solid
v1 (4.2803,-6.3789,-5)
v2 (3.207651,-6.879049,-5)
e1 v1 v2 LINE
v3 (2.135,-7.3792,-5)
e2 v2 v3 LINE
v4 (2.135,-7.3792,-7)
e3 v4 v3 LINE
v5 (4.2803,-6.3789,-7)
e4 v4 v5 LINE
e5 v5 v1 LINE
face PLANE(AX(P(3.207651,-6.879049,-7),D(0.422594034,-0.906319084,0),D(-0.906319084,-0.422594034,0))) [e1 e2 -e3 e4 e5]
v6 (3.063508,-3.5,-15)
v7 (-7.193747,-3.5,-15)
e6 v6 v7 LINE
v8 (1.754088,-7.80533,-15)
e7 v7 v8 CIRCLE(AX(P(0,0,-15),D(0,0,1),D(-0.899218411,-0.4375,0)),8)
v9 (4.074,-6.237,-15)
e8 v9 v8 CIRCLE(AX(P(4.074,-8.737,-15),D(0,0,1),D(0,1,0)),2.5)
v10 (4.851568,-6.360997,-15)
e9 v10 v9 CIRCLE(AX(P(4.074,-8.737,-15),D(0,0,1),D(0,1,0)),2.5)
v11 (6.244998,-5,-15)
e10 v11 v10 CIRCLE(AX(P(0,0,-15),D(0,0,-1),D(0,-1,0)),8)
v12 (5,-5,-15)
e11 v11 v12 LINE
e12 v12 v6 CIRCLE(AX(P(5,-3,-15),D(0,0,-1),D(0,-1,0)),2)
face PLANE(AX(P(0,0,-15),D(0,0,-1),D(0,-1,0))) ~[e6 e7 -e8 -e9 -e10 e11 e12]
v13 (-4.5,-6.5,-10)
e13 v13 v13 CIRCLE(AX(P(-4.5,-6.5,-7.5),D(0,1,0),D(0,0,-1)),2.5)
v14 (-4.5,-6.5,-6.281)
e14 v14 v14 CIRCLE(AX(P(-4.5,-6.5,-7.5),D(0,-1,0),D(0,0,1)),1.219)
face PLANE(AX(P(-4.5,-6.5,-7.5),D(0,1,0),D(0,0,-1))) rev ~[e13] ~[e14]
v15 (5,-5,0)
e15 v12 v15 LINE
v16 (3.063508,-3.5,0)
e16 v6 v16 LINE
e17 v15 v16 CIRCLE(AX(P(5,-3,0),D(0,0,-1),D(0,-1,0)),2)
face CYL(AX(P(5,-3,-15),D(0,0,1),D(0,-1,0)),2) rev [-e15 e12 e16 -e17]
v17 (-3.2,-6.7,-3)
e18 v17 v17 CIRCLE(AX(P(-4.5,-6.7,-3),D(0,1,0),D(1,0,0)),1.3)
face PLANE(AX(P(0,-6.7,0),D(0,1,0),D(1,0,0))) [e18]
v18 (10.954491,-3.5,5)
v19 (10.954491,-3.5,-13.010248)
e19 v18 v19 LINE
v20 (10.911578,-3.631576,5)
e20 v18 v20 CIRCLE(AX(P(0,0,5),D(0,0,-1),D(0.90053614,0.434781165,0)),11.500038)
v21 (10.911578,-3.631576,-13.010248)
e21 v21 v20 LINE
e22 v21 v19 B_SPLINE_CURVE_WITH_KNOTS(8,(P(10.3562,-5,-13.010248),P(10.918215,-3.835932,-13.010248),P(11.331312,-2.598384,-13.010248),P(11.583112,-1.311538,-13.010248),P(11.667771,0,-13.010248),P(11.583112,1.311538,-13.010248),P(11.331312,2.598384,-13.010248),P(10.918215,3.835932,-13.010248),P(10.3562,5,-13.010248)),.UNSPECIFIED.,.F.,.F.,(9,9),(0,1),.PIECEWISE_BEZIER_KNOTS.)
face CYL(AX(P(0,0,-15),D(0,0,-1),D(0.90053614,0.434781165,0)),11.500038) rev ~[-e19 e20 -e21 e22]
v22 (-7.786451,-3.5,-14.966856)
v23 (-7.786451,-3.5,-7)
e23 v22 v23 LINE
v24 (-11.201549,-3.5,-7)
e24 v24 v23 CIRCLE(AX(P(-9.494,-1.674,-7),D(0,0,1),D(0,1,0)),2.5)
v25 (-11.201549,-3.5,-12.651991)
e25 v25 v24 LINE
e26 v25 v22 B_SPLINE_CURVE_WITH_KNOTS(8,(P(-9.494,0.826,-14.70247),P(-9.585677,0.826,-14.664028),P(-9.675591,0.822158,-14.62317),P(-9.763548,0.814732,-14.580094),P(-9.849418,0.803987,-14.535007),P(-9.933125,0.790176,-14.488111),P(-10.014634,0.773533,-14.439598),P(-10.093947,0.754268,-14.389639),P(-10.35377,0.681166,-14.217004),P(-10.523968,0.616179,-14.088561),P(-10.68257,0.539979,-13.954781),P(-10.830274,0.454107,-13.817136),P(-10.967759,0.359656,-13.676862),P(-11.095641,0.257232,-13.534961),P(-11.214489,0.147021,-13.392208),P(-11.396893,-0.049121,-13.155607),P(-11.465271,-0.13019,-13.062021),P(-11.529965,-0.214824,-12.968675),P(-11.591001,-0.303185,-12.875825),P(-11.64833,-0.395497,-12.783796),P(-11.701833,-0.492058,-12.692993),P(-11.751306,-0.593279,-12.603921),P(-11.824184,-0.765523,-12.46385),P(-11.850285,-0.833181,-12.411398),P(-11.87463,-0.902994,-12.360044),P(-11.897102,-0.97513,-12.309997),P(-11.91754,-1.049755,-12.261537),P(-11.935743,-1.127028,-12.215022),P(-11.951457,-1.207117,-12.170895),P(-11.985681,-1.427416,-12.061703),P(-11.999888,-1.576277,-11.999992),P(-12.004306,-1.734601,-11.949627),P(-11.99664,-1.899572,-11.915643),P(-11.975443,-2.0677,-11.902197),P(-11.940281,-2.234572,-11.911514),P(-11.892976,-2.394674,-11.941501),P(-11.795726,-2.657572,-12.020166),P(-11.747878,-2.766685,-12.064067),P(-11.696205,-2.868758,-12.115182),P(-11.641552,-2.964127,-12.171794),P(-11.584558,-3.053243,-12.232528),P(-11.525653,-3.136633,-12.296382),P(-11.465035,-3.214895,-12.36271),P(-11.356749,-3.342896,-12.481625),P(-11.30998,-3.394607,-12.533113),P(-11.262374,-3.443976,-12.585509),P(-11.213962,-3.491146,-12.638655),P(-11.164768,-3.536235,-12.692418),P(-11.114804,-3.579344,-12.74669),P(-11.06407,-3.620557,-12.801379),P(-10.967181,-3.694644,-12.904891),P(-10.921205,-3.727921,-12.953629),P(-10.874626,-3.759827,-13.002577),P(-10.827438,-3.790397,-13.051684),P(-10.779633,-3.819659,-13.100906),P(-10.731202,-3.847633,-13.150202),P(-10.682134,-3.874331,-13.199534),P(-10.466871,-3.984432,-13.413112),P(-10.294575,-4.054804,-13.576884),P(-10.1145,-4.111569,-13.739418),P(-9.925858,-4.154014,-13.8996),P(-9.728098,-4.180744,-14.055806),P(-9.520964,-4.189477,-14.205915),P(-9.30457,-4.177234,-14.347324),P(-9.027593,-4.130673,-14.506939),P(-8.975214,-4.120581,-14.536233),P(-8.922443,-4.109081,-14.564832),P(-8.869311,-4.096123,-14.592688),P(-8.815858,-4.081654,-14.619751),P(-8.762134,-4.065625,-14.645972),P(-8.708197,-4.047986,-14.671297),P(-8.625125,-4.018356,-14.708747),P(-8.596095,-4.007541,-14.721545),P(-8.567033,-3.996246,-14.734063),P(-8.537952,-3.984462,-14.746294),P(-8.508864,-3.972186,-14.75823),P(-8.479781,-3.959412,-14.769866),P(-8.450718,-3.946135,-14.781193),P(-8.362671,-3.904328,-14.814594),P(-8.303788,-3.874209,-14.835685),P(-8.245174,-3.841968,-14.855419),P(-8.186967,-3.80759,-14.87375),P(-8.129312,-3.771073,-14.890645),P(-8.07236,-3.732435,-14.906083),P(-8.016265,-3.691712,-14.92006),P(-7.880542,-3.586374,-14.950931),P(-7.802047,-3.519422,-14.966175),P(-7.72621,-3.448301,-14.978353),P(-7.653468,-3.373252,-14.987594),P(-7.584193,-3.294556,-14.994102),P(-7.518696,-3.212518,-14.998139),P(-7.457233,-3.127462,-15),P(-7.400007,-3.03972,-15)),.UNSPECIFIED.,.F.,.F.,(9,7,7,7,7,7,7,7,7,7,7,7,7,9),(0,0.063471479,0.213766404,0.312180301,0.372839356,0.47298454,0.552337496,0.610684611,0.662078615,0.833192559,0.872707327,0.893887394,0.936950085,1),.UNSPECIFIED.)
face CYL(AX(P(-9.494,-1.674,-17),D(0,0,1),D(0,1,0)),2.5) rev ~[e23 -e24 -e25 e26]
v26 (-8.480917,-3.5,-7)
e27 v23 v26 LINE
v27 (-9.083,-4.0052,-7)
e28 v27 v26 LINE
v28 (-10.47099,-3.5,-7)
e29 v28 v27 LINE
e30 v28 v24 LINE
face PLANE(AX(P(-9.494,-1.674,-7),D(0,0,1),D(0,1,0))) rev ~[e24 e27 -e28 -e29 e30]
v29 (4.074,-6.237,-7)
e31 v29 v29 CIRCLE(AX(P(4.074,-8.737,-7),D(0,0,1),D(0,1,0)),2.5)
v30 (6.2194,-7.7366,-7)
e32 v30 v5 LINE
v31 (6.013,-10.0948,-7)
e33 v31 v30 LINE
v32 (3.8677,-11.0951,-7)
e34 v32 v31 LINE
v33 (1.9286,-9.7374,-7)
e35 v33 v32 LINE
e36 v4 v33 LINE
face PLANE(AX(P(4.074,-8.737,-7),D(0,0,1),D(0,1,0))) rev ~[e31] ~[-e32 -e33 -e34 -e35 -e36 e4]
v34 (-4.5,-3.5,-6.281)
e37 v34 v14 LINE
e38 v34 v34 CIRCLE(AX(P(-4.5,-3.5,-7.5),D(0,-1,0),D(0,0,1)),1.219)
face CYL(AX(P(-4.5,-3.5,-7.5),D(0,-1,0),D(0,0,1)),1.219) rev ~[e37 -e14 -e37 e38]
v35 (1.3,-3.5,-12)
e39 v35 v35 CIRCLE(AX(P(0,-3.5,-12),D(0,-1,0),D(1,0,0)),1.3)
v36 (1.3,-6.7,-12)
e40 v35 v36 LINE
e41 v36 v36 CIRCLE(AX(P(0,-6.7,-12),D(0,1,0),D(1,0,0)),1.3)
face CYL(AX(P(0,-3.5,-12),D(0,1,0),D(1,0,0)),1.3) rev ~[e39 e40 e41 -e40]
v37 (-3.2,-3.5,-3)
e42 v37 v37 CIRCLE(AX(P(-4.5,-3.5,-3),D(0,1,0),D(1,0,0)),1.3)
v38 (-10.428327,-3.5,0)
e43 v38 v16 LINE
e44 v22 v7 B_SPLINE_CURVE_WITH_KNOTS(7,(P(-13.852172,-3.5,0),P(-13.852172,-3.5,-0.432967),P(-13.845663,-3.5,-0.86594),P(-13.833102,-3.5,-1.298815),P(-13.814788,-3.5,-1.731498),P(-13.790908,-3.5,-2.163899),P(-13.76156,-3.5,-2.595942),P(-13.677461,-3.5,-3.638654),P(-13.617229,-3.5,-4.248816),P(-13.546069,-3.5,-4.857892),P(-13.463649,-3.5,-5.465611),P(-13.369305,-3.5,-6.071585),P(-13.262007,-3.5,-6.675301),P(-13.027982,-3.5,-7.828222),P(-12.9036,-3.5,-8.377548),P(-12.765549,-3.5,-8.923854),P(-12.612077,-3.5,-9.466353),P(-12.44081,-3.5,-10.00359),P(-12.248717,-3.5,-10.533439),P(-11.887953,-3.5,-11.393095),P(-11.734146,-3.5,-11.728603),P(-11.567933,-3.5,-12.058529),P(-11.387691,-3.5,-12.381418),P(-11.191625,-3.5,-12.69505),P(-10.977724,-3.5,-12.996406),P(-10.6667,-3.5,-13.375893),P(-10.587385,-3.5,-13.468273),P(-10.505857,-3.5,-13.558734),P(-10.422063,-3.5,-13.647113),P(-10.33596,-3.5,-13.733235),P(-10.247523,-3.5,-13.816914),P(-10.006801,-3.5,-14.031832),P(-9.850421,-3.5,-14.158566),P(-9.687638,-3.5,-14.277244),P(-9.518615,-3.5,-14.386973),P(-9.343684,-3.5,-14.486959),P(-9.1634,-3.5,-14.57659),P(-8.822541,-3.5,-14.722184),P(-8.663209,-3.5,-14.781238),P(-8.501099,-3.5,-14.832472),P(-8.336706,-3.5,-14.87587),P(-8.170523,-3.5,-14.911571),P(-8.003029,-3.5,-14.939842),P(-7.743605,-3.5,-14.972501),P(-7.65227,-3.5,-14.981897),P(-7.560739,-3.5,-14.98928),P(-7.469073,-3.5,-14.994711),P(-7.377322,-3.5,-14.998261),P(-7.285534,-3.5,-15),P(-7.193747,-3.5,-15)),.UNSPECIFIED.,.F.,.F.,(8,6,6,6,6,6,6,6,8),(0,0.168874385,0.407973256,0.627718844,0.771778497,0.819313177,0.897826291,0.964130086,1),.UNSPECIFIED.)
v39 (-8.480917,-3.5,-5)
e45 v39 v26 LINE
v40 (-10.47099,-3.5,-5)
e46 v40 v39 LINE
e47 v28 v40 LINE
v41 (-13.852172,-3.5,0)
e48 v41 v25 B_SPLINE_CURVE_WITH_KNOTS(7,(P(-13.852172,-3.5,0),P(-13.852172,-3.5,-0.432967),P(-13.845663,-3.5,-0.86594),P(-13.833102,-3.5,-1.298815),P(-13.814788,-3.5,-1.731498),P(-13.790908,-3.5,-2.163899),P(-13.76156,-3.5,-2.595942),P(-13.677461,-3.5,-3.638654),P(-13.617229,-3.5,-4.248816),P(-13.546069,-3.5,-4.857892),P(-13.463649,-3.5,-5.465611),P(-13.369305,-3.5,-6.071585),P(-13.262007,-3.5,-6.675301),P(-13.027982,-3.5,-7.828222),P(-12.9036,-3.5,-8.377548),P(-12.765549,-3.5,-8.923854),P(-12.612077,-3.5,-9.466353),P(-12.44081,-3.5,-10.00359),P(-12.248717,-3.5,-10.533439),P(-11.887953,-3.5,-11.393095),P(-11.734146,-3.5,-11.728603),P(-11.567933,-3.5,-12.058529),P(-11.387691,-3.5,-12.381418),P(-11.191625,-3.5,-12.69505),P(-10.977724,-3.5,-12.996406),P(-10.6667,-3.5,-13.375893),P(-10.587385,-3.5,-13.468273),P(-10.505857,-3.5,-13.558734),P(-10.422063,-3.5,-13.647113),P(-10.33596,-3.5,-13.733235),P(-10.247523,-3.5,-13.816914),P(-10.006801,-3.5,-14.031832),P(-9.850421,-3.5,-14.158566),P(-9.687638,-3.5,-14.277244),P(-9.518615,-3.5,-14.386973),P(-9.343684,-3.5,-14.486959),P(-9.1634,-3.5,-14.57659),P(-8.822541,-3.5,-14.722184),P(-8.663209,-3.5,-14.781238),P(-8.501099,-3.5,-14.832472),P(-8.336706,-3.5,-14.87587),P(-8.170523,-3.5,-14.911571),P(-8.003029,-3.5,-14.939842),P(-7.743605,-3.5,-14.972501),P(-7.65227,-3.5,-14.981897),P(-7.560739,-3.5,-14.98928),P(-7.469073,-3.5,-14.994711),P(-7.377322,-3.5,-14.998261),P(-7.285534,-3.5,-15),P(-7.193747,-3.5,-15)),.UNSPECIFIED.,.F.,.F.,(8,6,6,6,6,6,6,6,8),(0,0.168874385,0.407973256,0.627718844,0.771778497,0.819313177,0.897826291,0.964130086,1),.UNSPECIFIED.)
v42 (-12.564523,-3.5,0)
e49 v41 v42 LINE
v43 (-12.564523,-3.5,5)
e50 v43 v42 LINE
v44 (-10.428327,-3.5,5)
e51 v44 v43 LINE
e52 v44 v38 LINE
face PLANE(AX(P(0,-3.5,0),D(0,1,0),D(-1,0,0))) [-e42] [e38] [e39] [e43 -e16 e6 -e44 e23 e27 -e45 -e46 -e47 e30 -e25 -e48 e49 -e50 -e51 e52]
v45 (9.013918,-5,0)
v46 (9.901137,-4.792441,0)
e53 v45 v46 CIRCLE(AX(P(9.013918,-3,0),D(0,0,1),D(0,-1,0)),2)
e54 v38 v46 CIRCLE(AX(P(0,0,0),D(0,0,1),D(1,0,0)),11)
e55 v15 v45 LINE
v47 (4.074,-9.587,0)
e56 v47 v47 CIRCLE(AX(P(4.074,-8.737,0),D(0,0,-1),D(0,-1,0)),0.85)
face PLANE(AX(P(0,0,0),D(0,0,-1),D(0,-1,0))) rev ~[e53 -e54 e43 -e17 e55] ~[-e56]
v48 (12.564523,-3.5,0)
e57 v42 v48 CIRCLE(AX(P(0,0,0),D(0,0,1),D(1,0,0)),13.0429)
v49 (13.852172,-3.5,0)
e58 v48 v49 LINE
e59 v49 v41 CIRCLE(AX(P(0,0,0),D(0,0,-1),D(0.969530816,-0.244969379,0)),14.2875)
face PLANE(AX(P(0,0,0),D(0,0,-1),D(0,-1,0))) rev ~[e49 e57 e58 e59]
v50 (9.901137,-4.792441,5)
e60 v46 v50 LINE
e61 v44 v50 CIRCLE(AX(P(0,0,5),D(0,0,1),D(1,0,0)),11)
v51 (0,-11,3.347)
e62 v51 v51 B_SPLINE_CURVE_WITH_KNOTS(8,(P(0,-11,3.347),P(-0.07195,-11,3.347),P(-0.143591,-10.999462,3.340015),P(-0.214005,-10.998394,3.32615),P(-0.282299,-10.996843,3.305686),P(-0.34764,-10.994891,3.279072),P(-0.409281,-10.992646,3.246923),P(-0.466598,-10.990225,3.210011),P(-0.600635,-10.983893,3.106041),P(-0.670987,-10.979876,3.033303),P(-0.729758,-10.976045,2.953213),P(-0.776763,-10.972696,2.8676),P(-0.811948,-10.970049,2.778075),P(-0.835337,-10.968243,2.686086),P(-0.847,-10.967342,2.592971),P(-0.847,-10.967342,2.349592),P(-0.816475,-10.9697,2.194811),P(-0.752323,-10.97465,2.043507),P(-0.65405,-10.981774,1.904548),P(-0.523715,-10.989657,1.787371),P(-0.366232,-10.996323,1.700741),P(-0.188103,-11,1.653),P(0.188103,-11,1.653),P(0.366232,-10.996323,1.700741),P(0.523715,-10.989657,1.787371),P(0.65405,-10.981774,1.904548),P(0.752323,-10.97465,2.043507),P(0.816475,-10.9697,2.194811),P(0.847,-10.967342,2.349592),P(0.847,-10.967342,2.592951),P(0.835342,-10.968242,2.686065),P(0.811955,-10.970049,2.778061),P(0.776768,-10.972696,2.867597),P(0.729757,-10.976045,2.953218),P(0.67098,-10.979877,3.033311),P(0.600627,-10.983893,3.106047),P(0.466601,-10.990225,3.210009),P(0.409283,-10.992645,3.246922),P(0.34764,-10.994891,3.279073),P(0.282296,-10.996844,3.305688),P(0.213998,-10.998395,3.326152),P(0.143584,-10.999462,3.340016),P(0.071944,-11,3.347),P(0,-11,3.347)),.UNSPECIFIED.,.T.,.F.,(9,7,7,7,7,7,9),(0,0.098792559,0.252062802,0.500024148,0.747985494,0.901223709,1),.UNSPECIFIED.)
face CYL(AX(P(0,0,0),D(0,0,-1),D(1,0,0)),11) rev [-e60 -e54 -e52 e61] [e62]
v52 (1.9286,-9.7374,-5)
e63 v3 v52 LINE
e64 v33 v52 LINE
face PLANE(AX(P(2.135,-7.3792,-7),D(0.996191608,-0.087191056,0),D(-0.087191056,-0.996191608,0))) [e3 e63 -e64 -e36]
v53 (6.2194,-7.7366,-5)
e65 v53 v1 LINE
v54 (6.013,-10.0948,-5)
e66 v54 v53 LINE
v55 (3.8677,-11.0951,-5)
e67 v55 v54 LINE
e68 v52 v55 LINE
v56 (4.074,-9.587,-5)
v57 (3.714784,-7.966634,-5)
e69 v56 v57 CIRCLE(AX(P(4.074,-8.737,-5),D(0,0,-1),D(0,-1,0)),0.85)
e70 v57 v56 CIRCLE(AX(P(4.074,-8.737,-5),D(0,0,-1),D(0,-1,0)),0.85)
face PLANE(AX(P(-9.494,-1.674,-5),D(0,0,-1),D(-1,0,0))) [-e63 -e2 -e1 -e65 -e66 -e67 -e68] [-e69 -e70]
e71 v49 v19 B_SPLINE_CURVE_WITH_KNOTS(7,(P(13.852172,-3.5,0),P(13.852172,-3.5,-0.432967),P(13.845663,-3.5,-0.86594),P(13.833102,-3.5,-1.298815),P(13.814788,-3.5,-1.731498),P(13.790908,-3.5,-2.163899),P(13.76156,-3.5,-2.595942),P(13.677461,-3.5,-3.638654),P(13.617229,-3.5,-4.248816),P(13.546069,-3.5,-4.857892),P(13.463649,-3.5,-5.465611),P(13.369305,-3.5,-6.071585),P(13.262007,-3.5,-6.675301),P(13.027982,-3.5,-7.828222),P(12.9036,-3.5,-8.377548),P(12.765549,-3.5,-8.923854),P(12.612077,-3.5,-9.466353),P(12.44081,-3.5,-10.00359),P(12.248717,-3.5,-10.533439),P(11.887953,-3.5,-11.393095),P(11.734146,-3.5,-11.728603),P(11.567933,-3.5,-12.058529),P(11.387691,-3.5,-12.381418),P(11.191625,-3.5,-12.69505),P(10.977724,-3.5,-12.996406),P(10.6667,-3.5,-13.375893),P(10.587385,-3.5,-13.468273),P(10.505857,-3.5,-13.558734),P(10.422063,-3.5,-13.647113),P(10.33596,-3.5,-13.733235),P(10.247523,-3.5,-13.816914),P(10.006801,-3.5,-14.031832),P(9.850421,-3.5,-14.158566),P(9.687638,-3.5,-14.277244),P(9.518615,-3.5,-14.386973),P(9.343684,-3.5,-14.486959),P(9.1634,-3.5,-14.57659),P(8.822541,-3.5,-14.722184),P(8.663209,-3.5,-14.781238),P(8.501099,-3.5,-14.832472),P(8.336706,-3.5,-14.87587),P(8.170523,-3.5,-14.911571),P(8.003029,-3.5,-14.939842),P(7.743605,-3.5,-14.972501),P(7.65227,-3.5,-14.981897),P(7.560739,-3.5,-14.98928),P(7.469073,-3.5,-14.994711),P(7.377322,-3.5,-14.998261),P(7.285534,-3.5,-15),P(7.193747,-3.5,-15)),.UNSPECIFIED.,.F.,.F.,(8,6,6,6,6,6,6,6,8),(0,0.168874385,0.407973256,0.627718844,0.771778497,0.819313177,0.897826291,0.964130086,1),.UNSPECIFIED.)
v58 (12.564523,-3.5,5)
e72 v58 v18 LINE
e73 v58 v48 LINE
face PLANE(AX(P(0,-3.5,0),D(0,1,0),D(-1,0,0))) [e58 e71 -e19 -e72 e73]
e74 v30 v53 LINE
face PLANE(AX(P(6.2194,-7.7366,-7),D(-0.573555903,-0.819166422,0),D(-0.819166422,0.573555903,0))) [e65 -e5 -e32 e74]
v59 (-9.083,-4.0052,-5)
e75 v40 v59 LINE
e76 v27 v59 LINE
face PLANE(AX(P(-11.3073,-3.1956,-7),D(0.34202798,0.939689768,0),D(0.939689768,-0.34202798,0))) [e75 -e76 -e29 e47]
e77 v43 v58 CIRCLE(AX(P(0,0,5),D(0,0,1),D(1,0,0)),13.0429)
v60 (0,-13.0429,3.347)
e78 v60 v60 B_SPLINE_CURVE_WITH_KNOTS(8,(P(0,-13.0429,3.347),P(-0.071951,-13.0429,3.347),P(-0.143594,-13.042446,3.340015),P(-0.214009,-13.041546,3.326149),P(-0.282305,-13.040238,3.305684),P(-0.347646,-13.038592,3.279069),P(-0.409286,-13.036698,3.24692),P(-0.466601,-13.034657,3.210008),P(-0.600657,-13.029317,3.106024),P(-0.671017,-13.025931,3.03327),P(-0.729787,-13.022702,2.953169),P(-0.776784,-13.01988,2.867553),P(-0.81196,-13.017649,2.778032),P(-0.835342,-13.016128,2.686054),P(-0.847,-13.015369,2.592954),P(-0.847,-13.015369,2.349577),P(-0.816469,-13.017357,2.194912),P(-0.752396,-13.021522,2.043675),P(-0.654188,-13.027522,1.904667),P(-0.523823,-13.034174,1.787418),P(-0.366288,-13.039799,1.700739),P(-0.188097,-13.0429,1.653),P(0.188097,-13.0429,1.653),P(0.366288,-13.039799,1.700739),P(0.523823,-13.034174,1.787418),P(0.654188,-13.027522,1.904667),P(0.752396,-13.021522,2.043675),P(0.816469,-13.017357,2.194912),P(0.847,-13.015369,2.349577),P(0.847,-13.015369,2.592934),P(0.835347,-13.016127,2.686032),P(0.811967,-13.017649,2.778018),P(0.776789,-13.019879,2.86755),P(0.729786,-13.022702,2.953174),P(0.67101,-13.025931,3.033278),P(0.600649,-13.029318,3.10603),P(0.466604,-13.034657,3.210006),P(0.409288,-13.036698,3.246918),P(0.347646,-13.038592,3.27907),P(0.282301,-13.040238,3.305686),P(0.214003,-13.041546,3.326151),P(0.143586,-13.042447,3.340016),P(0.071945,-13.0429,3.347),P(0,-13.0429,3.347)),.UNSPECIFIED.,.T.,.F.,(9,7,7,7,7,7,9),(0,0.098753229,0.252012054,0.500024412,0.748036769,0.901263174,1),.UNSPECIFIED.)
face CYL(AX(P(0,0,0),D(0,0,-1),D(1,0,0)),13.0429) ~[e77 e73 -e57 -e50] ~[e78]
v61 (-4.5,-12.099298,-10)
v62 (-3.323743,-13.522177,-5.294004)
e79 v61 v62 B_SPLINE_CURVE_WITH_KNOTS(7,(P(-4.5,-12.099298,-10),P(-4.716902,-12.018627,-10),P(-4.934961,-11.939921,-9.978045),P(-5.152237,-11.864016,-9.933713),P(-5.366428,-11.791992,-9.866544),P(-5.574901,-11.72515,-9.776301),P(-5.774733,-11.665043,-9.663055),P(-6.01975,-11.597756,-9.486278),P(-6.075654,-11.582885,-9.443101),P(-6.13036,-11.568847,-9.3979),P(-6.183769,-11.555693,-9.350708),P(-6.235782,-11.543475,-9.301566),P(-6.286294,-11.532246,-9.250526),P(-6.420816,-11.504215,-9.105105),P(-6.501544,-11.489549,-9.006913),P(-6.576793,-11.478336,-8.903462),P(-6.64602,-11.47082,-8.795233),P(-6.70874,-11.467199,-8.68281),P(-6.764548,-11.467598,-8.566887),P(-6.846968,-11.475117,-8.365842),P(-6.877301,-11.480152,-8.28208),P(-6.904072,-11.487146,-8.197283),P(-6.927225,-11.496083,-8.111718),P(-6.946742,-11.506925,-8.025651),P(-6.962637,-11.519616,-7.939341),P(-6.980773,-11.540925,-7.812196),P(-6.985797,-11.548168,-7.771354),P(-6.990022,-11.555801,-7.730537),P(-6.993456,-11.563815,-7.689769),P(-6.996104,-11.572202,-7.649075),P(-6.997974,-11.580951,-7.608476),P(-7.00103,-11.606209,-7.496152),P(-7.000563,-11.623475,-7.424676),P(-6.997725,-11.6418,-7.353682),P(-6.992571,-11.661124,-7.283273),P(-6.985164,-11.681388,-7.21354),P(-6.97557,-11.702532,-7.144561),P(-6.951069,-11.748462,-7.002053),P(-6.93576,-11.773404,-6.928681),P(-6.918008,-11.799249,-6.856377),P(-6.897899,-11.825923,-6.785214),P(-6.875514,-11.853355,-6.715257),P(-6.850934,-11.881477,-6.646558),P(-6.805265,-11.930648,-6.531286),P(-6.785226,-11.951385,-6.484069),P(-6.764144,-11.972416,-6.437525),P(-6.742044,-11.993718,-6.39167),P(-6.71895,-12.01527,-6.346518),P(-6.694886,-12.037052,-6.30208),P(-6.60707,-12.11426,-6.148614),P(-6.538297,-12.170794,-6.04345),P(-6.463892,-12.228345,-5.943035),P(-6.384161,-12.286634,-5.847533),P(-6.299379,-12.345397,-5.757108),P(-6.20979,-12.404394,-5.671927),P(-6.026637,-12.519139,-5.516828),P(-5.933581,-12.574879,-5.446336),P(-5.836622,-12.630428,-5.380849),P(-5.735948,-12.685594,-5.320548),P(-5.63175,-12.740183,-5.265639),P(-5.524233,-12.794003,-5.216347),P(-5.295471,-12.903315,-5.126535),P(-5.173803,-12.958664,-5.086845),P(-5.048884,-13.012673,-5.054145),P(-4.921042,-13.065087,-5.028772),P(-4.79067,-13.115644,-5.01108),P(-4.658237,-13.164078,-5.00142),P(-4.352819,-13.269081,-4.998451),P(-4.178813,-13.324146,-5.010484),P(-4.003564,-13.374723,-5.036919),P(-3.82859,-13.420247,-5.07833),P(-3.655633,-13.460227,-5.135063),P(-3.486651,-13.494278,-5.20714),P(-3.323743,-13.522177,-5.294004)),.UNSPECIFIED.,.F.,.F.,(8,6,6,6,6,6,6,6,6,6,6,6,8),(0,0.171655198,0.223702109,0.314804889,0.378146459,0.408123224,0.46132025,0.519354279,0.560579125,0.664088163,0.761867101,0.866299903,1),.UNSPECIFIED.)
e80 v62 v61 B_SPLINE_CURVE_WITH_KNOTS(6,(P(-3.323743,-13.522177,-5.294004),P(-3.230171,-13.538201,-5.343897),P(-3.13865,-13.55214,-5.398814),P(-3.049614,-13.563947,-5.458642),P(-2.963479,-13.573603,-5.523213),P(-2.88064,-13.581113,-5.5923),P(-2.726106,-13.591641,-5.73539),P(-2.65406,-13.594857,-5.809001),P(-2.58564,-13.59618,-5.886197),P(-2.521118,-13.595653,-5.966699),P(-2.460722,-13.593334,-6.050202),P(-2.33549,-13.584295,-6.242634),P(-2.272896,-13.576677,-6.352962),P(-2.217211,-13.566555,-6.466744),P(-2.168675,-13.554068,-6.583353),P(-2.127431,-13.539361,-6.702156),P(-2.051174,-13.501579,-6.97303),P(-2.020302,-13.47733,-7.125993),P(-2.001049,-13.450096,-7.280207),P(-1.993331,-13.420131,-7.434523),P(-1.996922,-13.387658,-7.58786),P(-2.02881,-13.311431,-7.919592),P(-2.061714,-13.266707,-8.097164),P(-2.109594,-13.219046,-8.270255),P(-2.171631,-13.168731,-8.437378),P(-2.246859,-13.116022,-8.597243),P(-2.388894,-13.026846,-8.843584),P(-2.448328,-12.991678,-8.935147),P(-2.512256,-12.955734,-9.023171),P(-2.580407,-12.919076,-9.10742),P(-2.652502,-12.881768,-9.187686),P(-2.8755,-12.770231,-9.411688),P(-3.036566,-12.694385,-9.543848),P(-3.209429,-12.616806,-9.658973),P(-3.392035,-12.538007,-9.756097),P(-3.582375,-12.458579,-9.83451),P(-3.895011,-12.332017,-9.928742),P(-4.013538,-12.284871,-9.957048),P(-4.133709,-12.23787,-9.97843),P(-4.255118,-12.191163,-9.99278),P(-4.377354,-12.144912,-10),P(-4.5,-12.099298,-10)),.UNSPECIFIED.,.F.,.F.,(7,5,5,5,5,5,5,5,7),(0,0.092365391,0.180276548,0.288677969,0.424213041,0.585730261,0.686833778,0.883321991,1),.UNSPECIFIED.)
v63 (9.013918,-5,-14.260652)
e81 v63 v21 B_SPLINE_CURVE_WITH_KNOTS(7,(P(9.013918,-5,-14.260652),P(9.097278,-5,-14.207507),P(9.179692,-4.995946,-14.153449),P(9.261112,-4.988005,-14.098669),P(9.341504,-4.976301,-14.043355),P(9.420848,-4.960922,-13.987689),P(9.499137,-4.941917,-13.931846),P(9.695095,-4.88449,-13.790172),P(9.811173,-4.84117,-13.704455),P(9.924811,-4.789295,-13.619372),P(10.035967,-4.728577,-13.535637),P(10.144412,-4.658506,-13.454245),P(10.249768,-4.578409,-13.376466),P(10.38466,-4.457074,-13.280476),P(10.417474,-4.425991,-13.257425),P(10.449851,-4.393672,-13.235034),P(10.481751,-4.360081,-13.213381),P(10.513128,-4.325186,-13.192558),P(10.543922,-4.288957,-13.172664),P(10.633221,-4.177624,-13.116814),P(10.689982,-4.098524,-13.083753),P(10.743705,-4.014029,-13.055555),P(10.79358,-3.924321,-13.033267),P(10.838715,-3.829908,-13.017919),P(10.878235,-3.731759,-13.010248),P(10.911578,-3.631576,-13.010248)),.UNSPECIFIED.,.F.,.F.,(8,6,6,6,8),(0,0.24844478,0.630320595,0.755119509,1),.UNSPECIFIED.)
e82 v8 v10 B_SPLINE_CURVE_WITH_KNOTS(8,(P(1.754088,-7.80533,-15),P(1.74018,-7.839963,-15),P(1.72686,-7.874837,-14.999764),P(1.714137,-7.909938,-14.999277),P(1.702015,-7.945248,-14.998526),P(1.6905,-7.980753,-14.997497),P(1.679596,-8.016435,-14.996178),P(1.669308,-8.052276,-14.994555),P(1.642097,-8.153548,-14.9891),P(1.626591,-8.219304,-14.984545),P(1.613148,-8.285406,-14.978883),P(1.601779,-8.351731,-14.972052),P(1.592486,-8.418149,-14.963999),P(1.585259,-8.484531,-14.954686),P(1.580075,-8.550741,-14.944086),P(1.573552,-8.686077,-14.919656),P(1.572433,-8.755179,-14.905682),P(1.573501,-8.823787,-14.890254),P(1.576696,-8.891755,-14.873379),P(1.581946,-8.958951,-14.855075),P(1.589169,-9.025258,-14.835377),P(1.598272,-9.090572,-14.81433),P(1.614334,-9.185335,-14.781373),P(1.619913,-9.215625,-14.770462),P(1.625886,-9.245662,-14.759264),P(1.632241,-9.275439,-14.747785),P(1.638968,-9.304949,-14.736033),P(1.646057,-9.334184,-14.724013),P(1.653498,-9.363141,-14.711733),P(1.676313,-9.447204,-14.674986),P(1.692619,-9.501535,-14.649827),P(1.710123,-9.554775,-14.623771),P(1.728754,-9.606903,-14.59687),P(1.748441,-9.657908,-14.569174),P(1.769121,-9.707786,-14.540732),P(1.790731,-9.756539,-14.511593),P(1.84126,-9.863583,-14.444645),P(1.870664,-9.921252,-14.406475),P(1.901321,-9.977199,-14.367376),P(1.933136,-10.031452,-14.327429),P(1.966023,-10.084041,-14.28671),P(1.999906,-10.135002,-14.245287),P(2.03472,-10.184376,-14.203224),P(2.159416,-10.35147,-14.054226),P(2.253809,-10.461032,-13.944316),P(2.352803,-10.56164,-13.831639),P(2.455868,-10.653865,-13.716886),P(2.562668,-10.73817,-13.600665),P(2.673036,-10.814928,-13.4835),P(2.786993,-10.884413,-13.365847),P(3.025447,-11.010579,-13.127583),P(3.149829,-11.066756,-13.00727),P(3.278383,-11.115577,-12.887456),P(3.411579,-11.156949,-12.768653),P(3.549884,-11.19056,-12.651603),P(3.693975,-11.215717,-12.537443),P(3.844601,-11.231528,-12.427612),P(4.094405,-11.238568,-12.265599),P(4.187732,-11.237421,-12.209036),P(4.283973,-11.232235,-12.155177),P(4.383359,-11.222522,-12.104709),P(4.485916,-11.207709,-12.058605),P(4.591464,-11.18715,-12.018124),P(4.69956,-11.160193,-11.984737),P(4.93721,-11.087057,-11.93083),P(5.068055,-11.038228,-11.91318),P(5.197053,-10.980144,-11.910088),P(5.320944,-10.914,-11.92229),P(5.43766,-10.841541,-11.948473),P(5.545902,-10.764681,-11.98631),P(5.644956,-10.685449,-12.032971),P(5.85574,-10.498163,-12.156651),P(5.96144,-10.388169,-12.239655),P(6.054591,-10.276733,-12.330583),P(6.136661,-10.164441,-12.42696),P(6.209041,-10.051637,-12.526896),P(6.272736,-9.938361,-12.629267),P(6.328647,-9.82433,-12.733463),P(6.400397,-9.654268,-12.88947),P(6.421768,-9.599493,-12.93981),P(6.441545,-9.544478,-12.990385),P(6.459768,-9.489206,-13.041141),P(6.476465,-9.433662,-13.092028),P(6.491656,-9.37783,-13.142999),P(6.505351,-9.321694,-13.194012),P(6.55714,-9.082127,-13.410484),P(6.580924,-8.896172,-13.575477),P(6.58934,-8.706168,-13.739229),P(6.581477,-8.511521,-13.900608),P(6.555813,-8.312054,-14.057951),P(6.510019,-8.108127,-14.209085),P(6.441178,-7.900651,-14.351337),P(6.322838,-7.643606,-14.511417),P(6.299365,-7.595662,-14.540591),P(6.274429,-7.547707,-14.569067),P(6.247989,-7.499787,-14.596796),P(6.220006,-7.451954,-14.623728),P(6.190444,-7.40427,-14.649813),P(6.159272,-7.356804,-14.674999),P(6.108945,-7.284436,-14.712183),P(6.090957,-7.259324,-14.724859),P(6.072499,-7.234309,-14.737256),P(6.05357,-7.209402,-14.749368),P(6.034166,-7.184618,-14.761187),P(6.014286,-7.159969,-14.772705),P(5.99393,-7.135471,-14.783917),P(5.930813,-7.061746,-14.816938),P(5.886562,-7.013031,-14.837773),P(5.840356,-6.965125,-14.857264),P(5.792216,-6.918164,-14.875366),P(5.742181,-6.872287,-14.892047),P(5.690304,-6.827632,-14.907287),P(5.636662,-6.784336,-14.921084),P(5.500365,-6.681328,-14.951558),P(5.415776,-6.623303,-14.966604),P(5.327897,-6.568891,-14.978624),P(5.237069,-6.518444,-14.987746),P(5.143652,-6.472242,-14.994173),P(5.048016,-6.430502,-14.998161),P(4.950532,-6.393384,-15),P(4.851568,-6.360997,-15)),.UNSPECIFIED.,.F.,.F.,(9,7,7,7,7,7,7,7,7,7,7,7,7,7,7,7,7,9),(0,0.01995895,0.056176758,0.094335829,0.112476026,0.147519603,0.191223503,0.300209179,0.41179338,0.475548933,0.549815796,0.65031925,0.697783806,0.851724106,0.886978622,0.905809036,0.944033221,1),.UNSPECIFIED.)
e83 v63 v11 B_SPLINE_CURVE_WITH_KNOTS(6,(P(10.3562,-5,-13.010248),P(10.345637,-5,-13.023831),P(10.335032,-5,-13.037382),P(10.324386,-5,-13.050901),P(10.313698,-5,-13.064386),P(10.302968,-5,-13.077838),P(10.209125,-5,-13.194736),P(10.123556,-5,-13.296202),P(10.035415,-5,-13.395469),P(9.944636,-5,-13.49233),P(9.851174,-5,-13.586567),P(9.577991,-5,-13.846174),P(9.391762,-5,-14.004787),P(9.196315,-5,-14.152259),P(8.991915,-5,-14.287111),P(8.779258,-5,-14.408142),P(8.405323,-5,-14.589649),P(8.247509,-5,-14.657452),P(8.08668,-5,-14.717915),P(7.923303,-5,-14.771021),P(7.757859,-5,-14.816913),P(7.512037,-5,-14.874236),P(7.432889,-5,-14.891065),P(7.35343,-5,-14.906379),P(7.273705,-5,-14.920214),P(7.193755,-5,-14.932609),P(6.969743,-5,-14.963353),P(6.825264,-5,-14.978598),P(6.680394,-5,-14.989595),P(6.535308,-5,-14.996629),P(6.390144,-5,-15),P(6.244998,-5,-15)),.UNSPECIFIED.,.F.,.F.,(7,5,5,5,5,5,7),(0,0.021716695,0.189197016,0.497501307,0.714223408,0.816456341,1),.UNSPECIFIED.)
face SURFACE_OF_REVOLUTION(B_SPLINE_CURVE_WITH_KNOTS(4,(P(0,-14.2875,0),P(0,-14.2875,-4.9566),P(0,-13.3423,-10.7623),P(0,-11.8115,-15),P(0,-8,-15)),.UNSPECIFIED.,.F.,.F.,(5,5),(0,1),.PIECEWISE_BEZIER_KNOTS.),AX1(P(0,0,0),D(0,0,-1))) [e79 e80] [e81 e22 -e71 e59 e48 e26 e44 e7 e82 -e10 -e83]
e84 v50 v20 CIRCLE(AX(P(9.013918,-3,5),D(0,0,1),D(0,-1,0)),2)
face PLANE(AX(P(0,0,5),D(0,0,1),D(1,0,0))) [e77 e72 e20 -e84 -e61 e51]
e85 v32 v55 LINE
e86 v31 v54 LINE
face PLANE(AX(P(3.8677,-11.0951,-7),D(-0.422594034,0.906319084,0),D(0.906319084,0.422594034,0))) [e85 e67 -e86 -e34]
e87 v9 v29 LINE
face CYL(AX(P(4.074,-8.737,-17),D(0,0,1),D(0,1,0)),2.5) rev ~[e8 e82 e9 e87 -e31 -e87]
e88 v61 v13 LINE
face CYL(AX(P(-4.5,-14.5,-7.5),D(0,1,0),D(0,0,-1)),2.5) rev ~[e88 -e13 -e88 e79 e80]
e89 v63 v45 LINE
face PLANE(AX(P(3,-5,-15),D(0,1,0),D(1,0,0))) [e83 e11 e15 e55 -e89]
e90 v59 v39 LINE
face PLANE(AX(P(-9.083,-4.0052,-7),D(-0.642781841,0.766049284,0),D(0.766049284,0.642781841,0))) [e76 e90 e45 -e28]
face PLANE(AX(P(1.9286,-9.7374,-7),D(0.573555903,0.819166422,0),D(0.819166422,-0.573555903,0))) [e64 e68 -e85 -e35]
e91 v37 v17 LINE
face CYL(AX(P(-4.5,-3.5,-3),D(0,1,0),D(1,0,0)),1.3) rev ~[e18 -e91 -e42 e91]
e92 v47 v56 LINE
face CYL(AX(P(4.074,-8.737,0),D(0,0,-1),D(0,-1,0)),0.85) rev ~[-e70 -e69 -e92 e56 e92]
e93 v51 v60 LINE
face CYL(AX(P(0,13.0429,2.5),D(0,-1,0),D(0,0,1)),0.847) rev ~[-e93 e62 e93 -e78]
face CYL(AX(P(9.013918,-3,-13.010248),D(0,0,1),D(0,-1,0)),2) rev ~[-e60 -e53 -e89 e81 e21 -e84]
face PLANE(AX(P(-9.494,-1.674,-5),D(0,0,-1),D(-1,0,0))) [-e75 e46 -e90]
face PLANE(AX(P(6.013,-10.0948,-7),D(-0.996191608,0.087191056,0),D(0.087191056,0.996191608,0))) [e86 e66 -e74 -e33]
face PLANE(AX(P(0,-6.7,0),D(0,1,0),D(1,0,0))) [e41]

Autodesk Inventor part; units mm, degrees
ref_plane "YZ Plane" through (0, 0, 0) normal (1, 0, 0) x (0, 1, 0)
sketch "Sketch1" plane through (0, 0, 0) normal (0, 0, 1) x (1, 0, 0)
  point P0 (0, 0)
sketch "Sketch2" plane through (0, 0, 0) normal (1, 0, 0) x (0, 1, 0)
  line L0 (-13.0429, 0) -> (13.0429, 0)
  line L1 (13.0429, 0) -> (13.0429, 3.3095)
  line L2 (13.0429, 3.3095) -> (-13.0429, 3.3095)
  line L3 (-13.0429, 3.3095) -> (-13.0429, 0)
  line L4 (0, 0) -> (0, -15)
  line L5 (0, -15) -> (-8, -15)
  line L6 (-14.2875, 0) -> (14.2875, 0)
  line L7 (14.2875, 0) -> (14.2875, 6.8547)
  line L8 (14.2875, 6.8547) -> (-14.2875, 6.8547)
  line L9 (-14.2875, 6.8547) -> (-14.2875, 0)
  spline S0 degree 4 poles (-14.2875, 0) (-14.2875, -4.9566) (-13.3423, -10.7623) (-11.8115, -15) (-8, -15) knots 0 0 0 0 0 1 1 1 1 1
  point P0 (-12.3627, -11.4481)
  dimension "d1" = 26.0858
  dimension "d2" = 8
  dimension "d3" = 15
  dimension "d4" = 28.575
revolve "Revolution1" add sketch "Sketch2" angle 360 about axis through (0, 0, 0) along (0, 0, -1) contours L0 L4 L5 S0 L6
sketch "Sketch3" plane through (0, 0, 0) normal (0, 0, 1) x (1, 0, 0)
  circle A0 centre (0, 0) radius 14.2875 projected
  circle A1 centre (0, 0) radius 13.0429
  circle A2 centre (0, 0) radius 11
  point P0 (0, -14.2875)
  dimension "d6" = 26.0858
  dimension "d7" = 22
extrude "Extrusion1" add sketch "Sketch3" along normal blind 5 contours A1
hole "Hole1" at (0, 0, 0) direction (0, 0, -1) diameter 3 end through all
sketch "Sketch6" plane through (0, 0, 0) normal (0, 0, 1) x (1, 0, 0)
  circle A0 centre (0, 0) radius 12
  point P0 (4.074, -8.737)
  point P1 (4.82, 8.349)
  point P2 (-9.494, -1.674)
  dimension "d22" = -8.737
  dimension "d23" = 8.349
  dimension "d24" = 1.674
  dimension "d25" = 4.074
  dimension "d26" = 4.82
hole "Hole2" at (-9.494, -1.674, 0) at (4.82, 8.349, 0) at (4.074, -8.737, 0) direction (0, 0, -1) diameter 1.7 end through all clearance for "Flat Head Machine Screw (82)" size "#0" standard "Ansi Unified Screw Threads"
sketch "Sketch8" plane through (0, 0, 0) normal (0, 1, 0) x (-1, 0, 0)
  point P0 (0, 0)
sketch "Sketch9" plane through (0, 0, -15) normal (0, 0, -1) x (-1, 0, 0)
  circle A0 centre (0, 0) radius 1.5 projected
  line L0 (-10.3562, 5) -> (-3, 5)
  line L1 (-3, 5) -> (-3, -5)
  line L2 (-3, -5) -> (-10.3562, -5)
  line L3 (20.0025, 0) -> (-20.0025, 0) projected
  line L4 (0, -20.0025) -> (0, 20.0025) projected
  circle A1 centre (-4.82, 8.349) radius 0.85 projected
  circle A2 centre (-4.074, -8.737) radius 0.85 projected
  circle A3 centre (0, 0) radius 8 projected
  arc A4 (-10.3562, 5) -> (-10.3562, -5) centre (0, 0) ccw
  point P0 (0, -8)
  point P1 (-10.7619, 0)
  dimension "d34" = 3
  dimension "d35" = 8.349
  dimension "d36" = 8.737
  dimension "d37" = 10
extrude "Extrusion2" cut sketch "Sketch9" against normal through all contours L3 A3 L0 L1 | L1 L2 A3 L3 | A3 L3 A4 L0 | L2 A4 L3 A3
sketch "Sketch10" plane through (6.245, 5, -15) normal (0, 0, -1) x (-1, 0, 0)
  arc A0 (2.1327, 3.8197) -> (2.1327, 3.8197) centre (2.1327, 3.8197) ccw projected
  arc A1 (3.0175, -13.6604) -> (3.0175, -13.6604) centre (3.0175, -13.6604) ccw projected
  arc A2 (16.4746, -6.2481) -> (16.4746, -6.2481) centre (16.4746, -6.2481) ccw projected
  circle A3 centre (1.425, 3.349) radius 0.85 projected
  circle A4 centre (2.171, -13.737) radius 2.5
  circle A5 centre (2.171, -13.737) radius 0.85 projected
  circle A6 centre (15.739, -6.674) radius 2.5
  circle A7 centre (15.739, -6.674) radius 0.85 projected
  circle A8 centre (1.425, 3.349) radius 2.5
  dimension "d43" = 5
  dimension "d44" = 5
  dimension "d59" = 5
ref_plane "Work Plane1" through (6.245, 5, -17) normal (0, 0, -1) x (-1, 0, 0)
sketch "Sketch11" plane through (6.245, 5, -17) normal (0, 0, -1) x (-1, 0, 0)
  arc A0 (2.1327, 3.8197) -> (2.1327, 3.8197) centre (2.1327, 3.8197) ccw projected
  arc A1 (16.4746, -6.2481) -> (16.4746, -6.2481) centre (16.4746, -6.2481) ccw projected
  arc A2 (3.0175, -13.6604) -> (3.0175, -13.6604) centre (3.0175, -13.6604) ccw projected
  circle A3 centre (1.425, 3.349) radius 2.5
  circle A4 centre (1.425, 3.349) radius 0.85 projected
  circle A5 centre (2.171, -13.737) radius 2.5
  circle A6 centre (15.739, -6.674) radius 2.5
  circle A7 centre (15.739, -6.674) radius 0.85 projected
  circle A8 centre (2.171, -13.737) radius 0.85 projected
  point P0 (6.245, -5)
  dimension "d61" = 5
  dimension "d62" = 5
  dimension "d63" = 5
hole "Hole5" at (4.82, 8.349, -17) at (-9.494, -1.674, -17) at (4.074, -8.737, -17) direction (0, 0, 1) diameter 5 depth 10
sketch "Sketch12" plane through (-9.494, -1.674, -7) normal (0, 0, -1) x (-1, 0, 0)
  circle A0 centre (0, 0) radius 0.85 projected
  circle A1 centre (-14.314, 10.023) radius 0.85 projected
  circle A2 centre (-13.568, -7.063) radius 0.85 projected
  line L0 (-12.264, 8.8394) -> (-14.3141, 7.6559)
  line L1 (-14.3141, 7.6559) -> (-16.364, 8.8395)
  line L2 (-16.364, 8.8395) -> (-16.364, 11.2066)
  line L3 (-16.364, 11.2066) -> (-14.3139, 12.3901)
  line L4 (-14.3139, 12.3901) -> (-12.264, 11.2065)
  line L5 (-12.264, 11.2065) -> (-12.264, 8.8394)
  line L6 (-0.411, -2.3312) -> (-2.2244, -0.8096)
  line L7 (-2.2244, -0.8096) -> (-1.8133, 1.5216)
  line L8 (-1.8133, 1.5216) -> (0.411, 2.3312)
  line L9 (0.411, 2.3312) -> (2.2244, 0.8096)
  line L10 (2.2244, 0.8096) -> (1.8133, -1.5216)
  line L11 (1.8133, -1.5216) -> (-0.411, -2.3312)
  line L12 (-9.494, 1.674) -> (-14.314, 10.023)
  line L13 (-9.494, 1.674) -> (0, 0)
  line L14 (-9.494, 1.674) -> (-13.568, -7.063)
  line L15 (-11.4226, -8.0634) -> (-13.3617, -9.4211)
  line L16 (-13.3617, -9.4211) -> (-15.507, -8.4208)
  line L17 (-15.507, -8.4208) -> (-15.7134, -6.0626)
  line L18 (-15.7134, -6.0626) -> (-13.7743, -4.7049)
  line L19 (-13.7743, -4.7049) -> (-11.629, -5.7052)
  line L20 (-11.629, -5.7052) -> (-11.4226, -8.0634)
  dimension "d71" = 4.1
  dimension "d72" = 4.1
  dimension "d73" = 4.1
extrude "Extrusion3" cut sketch "Sketch12" against normal blind 2 contours L7 L8 L9 L10 L11 L6 | A2 | L19 L20 L15 L16 L17 L18 | L0 L1 L2 L3 L4 L5
ref_plane "Work Plane2" through (0, 13.0429, 0) normal (0, 1, 0) x (-1, 0, 0)
sketch "Sketch13" plane through (0, 13.0429, 0) normal (0, 1, 0) x (-1, 0, 0)
  line L0 (-13.0429, 5) -> (13.0429, 5) projected
  line L1 (-13.0429, 0) -> (13.0429, 0) projected
  line L2 (0, -19.0003) -> (0, 9.0001) projected
  point P0 (0, 0)
  point P1 (0, 2.5)
  dimension "d76" = 2.5
hole "Hole6" at (0, 13.0429, 2.5) direction (0, -1, 0) diameter 1.694 end through all thread size "2-56 UNC" class "2B" standard "ANSI Unified Screw Threads"
ref_plane "Work Plane3" through (0, -3.5, 0) normal (0, 1, 0) x (-1, 0, 0)
fillet "Fillet1" radius 2 4 edges at (3, -5, -7.5) (3, 5, -7.5) (10.3562, 5, -4.0051) (10.3562, -5, -4.0051)
sketch "Sketch14" plane through (0, -3.5, 0) normal (0, 1, 0) x (-1, 0, 0)
  line L0 (-22.1309, 11.369) -> (21.5238, 11.369)
  line L1 (21.5238, 11.369) -> (21.5238, -19.3162)
  line L2 (21.5238, -19.3162) -> (-22.1309, -19.3162)
  line L3 (-22.1309, -19.3162) -> (-22.1309, 11.369)
  point P0 (0, 0)
extrude "Extrusion4" cut sketch "Sketch14" along normal through all
sketch "Sketch15" plane through (0, -3.5, 0) normal (0, 1, 0) x (1, 0, 0)
  line L0 (3.0635, 0) -> (-10.4283, 0) projected
  line L1 (-7.1937, 15) -> (3.0635, 15) projected
  line L2 (0, 19.0003) -> (0, -9.0001) projected
  circle A0 centre (-4.5, 3) radius 1.3
  circle A1 centre (0, 12) radius 1.3
  point P0 (0, 0)
  point P1 (-4.5, 7.5)
  dimension "d88" = 3
  dimension "d89" = 4.5
  dimension "d90" = 4.5
  dimension "d91" = 7.5
  dimension "d92" = 3
  dimension "d93" = 2.6
  dimension "d94" = 2.6
extrude "Extrusion5" cut sketch "Sketch15" against normal blind 3.2
hole "Hole7" at (-4.5, -3.5, -7.5) direction (0, -1, 0) diameter 2.438 end through all clearance for "Flat Head Machine Screw (82)" size "#2" standard "Ansi Unified Screw Threads"
ref_plane "Work Plane4" through (0, -14.5, 0) normal (0, -1, 0) x (1, 0, 0)
sketch "Sketch16" plane through (0, -14.5, 0) normal (0, -1, 0) x (1, 0, 0)
  point P0 (0, 0)
sketch "Sketch17" plane through (0, -14.5, 0) normal (0, -1, 0) x (1, 0, 0)
  arc A0 (-5.6245, -7.9706) -> (-5.6245, -7.9706) centre (-5.6245, -7.9706) ccw projected
  point P0 (0, 0)
  point P1 (-4.5, -7.5)
hole "Hole8" at (-4.5, -14.5, -7.5) direction (0, 1, 0) diameter 5 depth 8
properties part number "Handle_2_Back_Bottom"
